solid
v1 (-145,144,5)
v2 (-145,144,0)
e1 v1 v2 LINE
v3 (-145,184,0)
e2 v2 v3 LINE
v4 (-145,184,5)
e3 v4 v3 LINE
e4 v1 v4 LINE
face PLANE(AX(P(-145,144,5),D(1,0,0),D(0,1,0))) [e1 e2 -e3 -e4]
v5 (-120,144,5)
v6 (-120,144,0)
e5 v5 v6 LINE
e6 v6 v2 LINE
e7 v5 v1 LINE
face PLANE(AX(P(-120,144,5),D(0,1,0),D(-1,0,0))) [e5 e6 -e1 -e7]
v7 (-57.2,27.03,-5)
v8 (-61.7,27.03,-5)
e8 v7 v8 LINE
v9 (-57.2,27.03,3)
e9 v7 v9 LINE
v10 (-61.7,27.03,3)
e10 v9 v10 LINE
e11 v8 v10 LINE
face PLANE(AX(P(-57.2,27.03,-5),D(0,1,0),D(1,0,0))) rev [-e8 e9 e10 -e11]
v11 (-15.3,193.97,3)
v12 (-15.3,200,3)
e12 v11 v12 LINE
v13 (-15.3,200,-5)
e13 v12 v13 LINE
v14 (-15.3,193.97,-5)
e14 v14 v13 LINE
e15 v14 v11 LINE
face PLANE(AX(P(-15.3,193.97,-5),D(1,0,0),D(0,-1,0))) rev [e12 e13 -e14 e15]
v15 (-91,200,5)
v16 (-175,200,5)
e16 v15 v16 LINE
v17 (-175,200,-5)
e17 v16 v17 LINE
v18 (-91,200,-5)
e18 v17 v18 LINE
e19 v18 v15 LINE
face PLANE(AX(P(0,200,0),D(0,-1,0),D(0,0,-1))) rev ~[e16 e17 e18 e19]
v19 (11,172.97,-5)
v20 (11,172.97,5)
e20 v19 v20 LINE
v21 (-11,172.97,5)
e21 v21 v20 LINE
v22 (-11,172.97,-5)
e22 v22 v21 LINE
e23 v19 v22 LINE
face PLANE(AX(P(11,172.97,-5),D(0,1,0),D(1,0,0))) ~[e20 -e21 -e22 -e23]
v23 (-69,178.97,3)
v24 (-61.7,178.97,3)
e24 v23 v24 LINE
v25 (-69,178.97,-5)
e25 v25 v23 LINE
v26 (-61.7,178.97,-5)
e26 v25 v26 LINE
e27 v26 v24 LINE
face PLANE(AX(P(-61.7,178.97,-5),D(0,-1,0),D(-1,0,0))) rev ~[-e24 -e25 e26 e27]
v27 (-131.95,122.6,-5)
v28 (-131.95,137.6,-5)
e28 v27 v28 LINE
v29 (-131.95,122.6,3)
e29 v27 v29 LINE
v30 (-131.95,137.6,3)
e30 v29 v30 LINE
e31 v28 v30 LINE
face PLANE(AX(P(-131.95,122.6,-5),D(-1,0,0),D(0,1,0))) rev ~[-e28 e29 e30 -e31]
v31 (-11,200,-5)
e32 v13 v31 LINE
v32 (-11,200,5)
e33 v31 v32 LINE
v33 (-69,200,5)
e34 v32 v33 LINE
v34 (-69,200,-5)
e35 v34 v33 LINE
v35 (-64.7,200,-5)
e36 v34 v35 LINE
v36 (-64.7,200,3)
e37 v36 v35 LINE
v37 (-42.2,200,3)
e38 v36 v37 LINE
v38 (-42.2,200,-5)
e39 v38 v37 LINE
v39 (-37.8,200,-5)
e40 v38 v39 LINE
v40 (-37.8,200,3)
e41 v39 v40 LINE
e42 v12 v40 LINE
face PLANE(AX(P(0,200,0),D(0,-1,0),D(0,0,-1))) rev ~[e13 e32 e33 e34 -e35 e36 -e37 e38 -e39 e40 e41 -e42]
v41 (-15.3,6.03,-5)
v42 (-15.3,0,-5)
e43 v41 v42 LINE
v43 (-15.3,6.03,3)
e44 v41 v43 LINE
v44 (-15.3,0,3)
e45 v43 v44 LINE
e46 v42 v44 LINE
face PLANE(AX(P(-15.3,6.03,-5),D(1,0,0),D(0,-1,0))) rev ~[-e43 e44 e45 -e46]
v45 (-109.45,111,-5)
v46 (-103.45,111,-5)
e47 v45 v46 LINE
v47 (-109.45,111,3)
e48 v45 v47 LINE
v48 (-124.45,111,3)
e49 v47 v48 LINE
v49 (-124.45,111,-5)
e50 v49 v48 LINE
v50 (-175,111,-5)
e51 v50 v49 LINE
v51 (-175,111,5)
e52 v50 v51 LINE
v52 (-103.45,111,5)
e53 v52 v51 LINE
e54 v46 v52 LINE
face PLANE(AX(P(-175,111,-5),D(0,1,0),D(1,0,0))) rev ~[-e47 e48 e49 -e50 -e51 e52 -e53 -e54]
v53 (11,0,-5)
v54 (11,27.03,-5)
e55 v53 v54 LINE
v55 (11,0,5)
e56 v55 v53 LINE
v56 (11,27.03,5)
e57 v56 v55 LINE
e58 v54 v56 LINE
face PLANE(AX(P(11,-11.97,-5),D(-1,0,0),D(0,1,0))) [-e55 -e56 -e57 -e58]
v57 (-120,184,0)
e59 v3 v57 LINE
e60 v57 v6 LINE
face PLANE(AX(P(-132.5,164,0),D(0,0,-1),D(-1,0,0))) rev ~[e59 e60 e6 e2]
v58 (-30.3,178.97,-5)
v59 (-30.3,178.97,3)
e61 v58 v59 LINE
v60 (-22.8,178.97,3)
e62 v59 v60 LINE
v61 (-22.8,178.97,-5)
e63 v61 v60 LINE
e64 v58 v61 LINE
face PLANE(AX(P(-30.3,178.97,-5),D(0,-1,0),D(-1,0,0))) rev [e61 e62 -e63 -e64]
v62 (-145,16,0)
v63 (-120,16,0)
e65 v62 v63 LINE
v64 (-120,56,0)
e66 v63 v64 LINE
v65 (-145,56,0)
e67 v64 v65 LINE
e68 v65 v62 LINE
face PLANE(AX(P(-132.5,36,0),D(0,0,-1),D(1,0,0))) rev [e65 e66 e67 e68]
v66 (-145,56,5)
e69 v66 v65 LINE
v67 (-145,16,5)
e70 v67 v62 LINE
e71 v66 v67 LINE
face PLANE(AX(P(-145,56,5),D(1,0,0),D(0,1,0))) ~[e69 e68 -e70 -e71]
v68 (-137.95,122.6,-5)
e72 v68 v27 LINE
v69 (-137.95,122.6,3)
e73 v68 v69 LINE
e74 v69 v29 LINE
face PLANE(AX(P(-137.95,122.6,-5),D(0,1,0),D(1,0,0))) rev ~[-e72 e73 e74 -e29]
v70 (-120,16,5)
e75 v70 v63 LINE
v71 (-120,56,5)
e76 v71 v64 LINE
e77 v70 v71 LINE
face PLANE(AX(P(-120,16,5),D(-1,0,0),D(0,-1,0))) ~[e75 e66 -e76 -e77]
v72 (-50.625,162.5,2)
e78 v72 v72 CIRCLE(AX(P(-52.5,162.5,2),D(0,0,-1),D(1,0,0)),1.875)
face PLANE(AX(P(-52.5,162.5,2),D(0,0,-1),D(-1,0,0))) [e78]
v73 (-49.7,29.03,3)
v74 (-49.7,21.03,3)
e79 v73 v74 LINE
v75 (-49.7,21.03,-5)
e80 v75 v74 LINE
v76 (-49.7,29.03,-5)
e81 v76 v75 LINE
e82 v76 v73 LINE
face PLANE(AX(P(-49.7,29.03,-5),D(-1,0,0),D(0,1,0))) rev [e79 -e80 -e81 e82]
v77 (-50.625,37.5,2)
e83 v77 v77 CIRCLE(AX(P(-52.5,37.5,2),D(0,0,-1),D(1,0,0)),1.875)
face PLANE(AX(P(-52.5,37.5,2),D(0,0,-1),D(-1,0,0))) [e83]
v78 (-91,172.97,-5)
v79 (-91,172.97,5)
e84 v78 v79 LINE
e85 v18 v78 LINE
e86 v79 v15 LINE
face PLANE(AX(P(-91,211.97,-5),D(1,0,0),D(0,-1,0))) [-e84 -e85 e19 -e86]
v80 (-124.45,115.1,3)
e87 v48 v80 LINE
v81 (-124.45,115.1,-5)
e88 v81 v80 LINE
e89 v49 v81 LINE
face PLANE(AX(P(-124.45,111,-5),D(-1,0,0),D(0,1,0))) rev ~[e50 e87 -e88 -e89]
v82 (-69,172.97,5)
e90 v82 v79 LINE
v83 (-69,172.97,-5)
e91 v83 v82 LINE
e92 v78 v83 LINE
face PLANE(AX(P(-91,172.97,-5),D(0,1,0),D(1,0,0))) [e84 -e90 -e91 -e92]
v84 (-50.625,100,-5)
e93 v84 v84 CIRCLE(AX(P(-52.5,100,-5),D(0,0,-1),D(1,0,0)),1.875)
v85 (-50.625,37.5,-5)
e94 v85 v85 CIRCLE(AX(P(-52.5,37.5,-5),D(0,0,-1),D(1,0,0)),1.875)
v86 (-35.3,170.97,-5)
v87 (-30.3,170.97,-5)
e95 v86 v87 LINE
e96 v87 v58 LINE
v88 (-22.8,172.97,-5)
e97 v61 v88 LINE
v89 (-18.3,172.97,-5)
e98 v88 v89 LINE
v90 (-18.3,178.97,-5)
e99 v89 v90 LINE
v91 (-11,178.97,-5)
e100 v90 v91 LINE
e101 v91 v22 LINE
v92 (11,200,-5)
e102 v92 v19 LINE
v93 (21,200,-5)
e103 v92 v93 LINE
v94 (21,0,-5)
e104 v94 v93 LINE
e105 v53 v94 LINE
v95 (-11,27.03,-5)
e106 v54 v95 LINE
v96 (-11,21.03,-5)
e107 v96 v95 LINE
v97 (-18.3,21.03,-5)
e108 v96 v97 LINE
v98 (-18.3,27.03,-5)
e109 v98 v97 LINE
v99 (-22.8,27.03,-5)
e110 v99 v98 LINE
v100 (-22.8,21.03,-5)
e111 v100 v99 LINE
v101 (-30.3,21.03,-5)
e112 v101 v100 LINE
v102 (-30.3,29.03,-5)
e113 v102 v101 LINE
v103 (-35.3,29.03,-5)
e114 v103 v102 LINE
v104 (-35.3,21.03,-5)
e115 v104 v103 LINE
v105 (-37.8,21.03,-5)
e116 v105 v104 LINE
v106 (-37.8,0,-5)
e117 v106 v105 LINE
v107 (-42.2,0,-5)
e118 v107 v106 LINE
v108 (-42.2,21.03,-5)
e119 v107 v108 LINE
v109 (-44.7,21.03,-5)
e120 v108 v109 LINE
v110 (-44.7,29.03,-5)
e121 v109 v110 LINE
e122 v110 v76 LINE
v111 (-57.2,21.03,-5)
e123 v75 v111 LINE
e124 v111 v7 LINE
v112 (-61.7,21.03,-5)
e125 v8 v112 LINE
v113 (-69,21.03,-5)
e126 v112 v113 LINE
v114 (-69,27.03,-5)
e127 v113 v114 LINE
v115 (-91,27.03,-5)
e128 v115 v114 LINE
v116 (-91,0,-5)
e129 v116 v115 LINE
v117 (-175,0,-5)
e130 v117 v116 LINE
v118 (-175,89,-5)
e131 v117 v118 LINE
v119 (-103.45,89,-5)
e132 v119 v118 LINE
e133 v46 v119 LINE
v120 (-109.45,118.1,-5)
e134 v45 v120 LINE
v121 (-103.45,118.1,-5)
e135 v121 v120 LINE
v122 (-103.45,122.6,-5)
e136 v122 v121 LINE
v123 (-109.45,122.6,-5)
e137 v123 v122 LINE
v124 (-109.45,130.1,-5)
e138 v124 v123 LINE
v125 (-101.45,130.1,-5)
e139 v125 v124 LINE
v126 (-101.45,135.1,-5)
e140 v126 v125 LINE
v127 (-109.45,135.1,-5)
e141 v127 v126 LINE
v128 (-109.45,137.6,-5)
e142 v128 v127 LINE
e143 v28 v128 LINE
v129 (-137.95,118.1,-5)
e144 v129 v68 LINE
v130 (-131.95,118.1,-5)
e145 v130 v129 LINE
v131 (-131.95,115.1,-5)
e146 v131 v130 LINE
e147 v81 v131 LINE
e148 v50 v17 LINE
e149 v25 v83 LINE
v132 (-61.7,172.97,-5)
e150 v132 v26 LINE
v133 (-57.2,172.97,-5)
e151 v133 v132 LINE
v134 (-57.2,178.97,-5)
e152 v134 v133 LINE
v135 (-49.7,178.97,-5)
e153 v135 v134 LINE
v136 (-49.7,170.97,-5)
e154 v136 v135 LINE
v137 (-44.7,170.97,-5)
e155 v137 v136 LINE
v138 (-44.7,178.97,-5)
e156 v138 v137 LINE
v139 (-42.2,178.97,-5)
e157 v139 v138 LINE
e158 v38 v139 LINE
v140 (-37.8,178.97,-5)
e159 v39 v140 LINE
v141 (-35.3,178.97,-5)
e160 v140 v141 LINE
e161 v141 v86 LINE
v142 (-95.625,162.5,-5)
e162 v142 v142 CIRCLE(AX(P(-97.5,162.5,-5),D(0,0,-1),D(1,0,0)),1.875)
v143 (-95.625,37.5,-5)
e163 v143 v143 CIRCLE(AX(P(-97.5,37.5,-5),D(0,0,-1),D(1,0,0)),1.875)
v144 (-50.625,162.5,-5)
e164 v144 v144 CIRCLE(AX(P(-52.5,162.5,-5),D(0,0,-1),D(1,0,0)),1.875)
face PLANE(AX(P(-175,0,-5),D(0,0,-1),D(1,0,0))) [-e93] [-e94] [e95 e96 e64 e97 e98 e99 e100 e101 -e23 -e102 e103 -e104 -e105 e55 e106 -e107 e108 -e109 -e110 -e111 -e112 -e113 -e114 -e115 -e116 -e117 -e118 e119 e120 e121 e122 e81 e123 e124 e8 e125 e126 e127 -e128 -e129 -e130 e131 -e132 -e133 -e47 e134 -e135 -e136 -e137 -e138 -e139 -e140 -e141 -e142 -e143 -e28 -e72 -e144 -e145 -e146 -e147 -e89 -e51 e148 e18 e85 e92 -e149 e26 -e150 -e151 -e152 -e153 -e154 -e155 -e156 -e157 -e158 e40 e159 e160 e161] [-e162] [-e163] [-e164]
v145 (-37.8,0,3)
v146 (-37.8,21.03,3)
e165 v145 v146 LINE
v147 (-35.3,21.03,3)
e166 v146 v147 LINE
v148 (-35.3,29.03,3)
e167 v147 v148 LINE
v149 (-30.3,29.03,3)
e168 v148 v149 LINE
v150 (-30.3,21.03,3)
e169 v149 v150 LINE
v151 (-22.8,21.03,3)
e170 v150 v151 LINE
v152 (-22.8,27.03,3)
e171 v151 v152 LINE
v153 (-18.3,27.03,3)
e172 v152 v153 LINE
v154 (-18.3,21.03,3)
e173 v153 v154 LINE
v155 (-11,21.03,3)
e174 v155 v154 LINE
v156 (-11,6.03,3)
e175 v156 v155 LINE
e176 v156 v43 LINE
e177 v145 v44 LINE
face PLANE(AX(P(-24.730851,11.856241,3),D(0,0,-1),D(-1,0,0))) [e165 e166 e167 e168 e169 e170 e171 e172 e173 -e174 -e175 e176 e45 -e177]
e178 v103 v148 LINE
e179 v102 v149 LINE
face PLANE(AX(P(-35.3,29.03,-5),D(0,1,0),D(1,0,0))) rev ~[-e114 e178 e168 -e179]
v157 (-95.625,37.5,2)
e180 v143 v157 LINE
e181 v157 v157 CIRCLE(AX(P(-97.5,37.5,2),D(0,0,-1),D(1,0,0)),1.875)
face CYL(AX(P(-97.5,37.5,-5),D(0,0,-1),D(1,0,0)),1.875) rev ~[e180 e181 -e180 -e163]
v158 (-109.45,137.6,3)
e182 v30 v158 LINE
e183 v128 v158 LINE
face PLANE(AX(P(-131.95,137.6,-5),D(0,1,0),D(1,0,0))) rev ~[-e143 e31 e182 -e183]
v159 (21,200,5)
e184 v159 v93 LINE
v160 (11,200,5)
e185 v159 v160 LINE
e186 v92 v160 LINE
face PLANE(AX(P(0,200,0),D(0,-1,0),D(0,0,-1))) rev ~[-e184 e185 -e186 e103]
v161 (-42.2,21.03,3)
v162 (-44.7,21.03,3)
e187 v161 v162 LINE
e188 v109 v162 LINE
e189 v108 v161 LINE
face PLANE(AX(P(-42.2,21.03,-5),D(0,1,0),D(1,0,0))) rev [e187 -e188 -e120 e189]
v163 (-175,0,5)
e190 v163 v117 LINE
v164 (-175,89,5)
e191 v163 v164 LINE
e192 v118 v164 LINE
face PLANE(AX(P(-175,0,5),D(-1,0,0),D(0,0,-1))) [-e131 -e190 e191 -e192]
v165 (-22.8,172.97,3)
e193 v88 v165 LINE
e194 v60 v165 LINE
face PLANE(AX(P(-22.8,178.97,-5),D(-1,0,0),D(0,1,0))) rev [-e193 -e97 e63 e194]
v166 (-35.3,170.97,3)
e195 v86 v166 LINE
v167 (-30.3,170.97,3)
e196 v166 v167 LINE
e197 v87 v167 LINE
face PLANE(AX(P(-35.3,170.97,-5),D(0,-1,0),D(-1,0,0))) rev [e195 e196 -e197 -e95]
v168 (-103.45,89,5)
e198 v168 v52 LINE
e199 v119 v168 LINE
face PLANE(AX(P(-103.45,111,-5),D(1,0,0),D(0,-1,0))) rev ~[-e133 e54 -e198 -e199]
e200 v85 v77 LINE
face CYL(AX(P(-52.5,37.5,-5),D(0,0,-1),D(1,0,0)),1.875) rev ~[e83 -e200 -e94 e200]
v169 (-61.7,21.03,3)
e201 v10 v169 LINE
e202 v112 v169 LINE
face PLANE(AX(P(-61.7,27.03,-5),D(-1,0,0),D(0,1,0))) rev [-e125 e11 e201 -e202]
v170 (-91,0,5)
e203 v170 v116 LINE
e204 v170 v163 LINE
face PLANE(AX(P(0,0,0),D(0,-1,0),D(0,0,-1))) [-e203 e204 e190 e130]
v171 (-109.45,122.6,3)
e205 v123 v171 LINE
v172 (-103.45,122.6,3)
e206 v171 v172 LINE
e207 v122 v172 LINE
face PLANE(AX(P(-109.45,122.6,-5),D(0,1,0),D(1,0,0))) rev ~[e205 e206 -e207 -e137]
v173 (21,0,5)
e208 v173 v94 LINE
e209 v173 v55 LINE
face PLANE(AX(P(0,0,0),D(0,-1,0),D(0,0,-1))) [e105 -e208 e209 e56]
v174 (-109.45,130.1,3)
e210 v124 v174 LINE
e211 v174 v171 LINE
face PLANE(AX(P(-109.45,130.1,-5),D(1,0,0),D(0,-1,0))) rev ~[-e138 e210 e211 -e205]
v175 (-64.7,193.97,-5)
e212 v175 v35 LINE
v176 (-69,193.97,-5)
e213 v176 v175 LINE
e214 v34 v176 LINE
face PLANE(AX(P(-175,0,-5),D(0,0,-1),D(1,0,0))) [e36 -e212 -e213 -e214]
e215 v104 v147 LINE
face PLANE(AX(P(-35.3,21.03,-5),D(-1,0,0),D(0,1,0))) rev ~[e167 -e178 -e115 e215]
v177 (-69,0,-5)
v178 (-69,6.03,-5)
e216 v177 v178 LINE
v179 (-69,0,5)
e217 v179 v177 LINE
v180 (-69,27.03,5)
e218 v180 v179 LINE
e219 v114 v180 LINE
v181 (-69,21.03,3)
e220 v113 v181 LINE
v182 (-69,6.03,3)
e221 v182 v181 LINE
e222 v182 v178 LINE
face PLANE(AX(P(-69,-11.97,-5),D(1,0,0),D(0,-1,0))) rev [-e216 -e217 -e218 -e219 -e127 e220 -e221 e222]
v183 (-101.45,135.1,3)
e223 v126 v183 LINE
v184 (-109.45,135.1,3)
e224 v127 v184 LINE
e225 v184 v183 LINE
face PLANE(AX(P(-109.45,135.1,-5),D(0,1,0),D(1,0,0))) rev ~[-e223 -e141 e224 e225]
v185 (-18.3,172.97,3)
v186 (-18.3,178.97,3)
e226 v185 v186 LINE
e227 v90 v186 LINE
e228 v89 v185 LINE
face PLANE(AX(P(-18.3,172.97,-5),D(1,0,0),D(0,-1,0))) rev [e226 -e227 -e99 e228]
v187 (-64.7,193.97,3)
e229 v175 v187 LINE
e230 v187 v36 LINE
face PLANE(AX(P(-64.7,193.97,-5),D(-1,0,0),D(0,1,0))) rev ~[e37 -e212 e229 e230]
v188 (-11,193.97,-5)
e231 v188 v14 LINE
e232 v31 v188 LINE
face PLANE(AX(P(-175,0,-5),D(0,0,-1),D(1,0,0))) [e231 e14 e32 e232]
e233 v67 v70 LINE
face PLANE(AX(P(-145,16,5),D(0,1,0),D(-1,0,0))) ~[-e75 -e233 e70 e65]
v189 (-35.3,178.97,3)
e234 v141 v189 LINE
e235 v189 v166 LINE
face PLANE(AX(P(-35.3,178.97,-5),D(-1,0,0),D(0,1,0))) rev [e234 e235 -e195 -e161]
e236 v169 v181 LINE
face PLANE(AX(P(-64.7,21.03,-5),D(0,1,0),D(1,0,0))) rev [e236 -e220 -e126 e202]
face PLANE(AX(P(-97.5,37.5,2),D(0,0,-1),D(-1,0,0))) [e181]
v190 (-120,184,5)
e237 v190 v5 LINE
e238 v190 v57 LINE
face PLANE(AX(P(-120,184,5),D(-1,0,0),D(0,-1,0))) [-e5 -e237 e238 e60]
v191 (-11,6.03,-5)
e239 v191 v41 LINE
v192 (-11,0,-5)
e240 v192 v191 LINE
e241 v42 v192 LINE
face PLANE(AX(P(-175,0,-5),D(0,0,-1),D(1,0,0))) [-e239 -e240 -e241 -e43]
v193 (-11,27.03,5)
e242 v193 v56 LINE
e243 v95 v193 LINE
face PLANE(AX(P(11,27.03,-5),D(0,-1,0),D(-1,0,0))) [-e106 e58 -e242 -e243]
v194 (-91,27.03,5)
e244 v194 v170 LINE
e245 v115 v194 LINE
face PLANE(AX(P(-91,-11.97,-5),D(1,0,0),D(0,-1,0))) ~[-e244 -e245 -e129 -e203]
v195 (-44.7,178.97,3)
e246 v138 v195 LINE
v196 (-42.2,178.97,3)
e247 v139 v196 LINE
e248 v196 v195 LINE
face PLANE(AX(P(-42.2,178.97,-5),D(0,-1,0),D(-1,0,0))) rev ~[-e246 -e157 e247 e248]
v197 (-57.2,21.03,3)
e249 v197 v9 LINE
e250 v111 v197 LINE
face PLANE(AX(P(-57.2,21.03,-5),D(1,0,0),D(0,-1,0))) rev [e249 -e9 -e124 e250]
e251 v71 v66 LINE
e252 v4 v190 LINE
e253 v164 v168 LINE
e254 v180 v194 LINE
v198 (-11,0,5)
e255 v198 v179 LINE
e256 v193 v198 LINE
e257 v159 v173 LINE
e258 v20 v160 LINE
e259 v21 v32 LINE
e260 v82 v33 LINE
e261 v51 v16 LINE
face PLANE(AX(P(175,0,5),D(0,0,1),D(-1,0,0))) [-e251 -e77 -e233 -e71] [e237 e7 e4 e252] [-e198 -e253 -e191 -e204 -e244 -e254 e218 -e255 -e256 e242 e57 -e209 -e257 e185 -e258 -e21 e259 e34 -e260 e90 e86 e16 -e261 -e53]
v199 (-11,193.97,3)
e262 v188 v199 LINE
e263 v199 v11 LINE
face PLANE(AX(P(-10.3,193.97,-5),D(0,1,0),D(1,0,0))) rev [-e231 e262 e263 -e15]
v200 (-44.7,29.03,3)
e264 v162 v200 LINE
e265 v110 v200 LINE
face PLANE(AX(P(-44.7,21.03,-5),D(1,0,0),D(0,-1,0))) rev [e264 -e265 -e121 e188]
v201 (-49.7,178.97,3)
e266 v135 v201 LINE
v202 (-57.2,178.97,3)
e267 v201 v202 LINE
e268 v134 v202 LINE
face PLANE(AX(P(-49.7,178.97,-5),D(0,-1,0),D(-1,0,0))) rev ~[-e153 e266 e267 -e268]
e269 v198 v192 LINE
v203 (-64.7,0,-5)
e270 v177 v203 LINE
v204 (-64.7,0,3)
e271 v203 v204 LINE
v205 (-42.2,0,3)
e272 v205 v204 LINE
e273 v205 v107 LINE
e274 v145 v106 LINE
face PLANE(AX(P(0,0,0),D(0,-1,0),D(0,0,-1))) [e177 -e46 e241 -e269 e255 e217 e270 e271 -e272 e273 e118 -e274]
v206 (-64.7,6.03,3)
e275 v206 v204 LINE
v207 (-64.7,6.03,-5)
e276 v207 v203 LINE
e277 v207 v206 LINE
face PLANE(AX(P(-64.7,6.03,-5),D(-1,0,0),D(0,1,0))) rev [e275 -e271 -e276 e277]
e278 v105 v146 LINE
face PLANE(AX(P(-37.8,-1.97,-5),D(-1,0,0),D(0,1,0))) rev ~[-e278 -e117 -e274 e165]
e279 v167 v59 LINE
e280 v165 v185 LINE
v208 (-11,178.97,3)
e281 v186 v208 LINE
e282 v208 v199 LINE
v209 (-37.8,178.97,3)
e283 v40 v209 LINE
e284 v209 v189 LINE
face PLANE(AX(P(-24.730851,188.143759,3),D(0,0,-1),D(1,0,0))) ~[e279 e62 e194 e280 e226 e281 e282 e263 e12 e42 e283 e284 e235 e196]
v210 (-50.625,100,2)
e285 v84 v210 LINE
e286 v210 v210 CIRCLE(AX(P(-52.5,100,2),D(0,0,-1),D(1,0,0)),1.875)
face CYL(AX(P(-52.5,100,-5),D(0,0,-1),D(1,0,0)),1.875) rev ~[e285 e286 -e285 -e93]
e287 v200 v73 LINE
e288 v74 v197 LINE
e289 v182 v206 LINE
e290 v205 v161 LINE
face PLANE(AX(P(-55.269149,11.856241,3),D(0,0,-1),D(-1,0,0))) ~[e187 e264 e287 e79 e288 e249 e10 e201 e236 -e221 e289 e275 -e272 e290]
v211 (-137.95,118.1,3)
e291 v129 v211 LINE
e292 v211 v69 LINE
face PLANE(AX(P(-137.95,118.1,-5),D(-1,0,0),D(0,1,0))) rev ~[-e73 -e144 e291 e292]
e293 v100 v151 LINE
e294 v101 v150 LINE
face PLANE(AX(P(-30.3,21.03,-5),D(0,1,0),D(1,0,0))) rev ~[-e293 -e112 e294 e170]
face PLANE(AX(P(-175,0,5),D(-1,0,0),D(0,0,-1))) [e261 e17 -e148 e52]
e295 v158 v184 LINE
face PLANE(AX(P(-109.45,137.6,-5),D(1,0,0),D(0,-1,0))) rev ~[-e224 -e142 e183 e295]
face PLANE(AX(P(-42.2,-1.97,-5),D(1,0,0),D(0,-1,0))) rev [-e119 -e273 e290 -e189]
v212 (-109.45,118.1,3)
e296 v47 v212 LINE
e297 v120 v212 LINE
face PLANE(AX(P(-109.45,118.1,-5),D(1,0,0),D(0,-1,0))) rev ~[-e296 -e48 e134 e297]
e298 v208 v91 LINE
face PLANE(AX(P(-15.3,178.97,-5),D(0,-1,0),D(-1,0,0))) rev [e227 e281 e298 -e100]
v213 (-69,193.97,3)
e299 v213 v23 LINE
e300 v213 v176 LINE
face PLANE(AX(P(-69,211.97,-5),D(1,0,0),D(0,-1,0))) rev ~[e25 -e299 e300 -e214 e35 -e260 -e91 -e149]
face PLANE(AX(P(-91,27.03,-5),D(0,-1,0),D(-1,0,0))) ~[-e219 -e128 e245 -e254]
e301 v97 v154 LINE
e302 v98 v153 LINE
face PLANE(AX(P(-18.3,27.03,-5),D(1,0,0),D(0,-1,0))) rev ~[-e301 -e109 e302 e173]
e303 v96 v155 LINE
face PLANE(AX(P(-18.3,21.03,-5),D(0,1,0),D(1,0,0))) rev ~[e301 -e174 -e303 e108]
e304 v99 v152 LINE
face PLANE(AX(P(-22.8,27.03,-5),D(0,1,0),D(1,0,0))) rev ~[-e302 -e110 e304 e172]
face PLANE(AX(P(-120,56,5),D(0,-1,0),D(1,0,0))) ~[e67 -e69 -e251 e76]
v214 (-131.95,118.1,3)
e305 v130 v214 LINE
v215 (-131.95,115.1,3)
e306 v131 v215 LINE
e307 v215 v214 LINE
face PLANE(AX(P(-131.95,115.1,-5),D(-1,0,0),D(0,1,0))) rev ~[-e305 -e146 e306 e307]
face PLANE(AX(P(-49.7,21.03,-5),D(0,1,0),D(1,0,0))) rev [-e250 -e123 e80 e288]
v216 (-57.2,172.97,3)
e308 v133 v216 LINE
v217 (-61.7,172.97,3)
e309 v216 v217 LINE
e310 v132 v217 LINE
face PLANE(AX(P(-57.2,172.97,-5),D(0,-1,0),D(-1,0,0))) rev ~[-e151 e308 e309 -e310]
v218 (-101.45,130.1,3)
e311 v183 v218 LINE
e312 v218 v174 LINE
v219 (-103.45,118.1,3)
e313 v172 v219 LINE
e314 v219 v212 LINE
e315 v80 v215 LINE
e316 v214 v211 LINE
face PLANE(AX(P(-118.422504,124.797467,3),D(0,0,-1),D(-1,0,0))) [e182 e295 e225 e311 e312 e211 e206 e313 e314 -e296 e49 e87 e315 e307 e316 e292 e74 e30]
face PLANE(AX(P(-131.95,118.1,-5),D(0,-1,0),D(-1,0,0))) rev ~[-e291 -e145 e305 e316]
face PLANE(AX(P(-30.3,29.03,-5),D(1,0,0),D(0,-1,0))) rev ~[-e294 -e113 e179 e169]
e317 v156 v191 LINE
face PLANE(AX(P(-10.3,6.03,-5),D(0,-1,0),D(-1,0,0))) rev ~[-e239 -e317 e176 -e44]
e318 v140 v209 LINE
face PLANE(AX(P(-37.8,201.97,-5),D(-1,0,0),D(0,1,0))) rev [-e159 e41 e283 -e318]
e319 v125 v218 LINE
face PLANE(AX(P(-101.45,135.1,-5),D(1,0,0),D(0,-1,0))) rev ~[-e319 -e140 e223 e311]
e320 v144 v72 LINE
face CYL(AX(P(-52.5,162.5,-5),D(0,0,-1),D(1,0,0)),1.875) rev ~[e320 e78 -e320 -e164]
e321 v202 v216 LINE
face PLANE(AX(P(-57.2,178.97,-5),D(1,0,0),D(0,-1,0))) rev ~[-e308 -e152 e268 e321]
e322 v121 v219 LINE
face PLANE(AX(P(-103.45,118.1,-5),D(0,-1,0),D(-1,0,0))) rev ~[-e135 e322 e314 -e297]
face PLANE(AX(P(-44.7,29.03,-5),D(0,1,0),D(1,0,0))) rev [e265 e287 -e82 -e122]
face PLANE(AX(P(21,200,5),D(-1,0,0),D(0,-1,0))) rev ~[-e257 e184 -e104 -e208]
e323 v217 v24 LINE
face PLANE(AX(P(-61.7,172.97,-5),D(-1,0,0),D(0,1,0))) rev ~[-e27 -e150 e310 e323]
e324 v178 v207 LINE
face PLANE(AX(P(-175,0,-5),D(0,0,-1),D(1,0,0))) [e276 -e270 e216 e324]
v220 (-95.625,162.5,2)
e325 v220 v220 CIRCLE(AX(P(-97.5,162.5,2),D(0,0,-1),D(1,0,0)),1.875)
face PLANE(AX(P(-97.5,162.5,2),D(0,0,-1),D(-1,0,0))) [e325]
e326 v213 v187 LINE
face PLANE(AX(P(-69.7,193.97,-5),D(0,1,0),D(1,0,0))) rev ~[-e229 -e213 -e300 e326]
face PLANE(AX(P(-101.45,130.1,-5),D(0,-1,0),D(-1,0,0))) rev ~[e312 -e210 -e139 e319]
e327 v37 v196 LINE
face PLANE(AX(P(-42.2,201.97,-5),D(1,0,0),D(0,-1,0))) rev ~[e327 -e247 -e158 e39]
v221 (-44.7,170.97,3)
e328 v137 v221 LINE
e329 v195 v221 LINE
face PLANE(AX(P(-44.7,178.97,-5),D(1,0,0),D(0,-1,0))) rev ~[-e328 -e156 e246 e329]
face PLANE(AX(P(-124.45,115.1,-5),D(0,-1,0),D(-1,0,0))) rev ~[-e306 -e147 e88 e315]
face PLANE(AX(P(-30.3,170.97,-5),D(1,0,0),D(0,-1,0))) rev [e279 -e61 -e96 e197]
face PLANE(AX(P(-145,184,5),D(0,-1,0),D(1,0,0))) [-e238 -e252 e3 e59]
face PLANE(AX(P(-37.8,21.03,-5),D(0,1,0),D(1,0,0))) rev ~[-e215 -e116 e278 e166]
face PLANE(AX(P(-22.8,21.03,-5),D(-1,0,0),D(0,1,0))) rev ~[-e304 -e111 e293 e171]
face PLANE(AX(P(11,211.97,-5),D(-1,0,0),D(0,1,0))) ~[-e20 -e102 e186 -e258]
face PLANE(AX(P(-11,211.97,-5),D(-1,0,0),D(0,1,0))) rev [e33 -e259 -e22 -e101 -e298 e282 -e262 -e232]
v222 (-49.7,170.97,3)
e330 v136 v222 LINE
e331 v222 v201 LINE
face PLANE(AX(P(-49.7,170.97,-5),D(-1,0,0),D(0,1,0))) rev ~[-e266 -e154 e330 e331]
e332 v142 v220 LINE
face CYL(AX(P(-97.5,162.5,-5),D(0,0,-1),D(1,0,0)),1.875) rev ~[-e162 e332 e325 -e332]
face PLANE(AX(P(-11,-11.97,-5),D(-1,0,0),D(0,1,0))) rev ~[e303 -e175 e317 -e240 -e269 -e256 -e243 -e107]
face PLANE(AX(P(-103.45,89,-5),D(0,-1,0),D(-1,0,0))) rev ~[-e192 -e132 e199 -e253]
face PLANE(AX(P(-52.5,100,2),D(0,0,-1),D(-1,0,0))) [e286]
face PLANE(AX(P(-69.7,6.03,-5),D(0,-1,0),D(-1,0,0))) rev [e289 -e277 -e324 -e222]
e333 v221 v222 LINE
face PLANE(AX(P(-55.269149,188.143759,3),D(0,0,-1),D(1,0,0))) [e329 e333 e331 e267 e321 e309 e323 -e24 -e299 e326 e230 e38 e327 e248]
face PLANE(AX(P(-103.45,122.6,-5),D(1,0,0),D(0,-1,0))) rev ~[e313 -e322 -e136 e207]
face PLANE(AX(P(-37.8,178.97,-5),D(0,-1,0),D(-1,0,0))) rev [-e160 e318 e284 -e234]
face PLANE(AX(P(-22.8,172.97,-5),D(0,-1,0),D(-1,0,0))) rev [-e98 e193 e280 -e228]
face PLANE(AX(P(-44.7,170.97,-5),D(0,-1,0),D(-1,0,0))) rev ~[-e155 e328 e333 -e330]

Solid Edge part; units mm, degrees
sketch "Sketch1" plane through (0, 0, 0) normal (0, -1, 0) x (1, 0, 0)
  line L0 (-175, -5) -> (175, -5)
  line L1 (175, -5) -> (175, 5)
  line L2 (175, 5) -> (-175, 5)
  line L3 (-175, 5) -> (-175, -5)
  dimension "D1" = 350
  dimension "D2" = 10
extrude "Protrusion1" add sketch "Sketch1" against normal blind 200
sketch "Sketch2" plane through (0, 100, -5) normal (0, 0, -1) x (1, 0, 0)
  line L0 (-22.8, 78.97) -> (-22.8, 72.97)
  line L1 (-22.8, 72.97) -> (-18.3, 72.97)
  line L2 (-18.3, 72.97) -> (-18.3, 78.97)
  line L3 (-18.3, 78.97) -> (-15.3, 78.97)
  line L4 (-15.3, 78.97) -> (-10.3, 78.97)
  line L5 (-10.3, 78.97) -> (-10.3, 93.97)
  line L6 (-10.3, 93.97) -> (-15.3, 93.97)
  line L7 (-15.3, 93.97) -> (-15.3, 101.97)
  line L8 (-15.3, 101.97) -> (-18.3, 101.97)
  line L9 (-18.3, 101.97) -> (-18.3, 107.97)
  line L10 (-18.3, 107.97) -> (-22.8, 107.97)
  line L11 (-22.8, 107.97) -> (-22.8, 101.97)
  line L12 (-22.8, 101.97) -> (-37.8, 101.97)
  line L13 (-37.8, 101.97) -> (-37.8, 78.97)
  line L14 (-37.8, 78.97) -> (-35.3, 78.97)
  line L15 (-35.3, 78.97) -> (-35.3, 70.97)
  line L16 (-35.3, 70.97) -> (-30.3, 70.97)
  line L17 (-30.3, 70.97) -> (-30.3, 78.97)
  line L18 (-30.3, 78.97) -> (-22.8, 78.97)
  dimension "D1" = 23
  dimension "D2" = 6
  dimension "D3" = 3
  dimension "D4" = 5
  dimension "D5" = 22.5
  dimension "D6" = 15
  dimension "D7" = 1.97
  dimension "D8" = 10.3
  dimension "D9" = 15
  dimension "D10" = 8
  dimension "D11" = 5
  dimension "D12" = 2.5
extrude "Cutout1" cut sketch "Sketch2" against normal blind 8
sketch "Sketch3" plane through (0, 100, -5) normal (0, 0, -1) x (1, 0, 0)
  line L0 (11, 72.97) -> (-11, 72.97)
  line L1 (-11, 111.97) -> (-11, 72.97)
  line L2 (11, 111.97) -> (-11, 111.97)
  line L3 (11, 111.97) -> (11, 72.97)
  dimension "D1" = 22
  dimension "D2" = 0.7
  dimension "D3" = 39
  dimension "D4" = 6
extrude "Cutout2" cut sketch "Sketch3" against normal through all
mirror "Mirror1" about plane through (0, 100, 0) normal (0, -1, 0) of "Cutout1", "Cutout2"
mirror "Mirror2" about plane through (40, 0, 0) normal (1, 0, 0) of "Mirror1", "Cutout2", "Cutout1"
mirror "Mirror3" about plane through (-40, 0, 0) normal (1, 0, 0) of "Cutout2", "Cutout1", "Mirror1"
sketch "Sketch4" plane through (0, 100, -5) normal (0, 0, -1) x (0, -1, 0)
  line L0 (-22.6, 109.45) -> (-22.6, 103.45)
  line L1 (-22.6, 103.45) -> (-18.1, 103.45)
  line L2 (-18.1, 103.45) -> (-18.1, 109.45)
  line L3 (-18.1, 109.45) -> (-15.1, 109.45)
  line L4 (-15.1, 109.45) -> (-11, 109.45)
  line L5 (-11, 109.45) -> (-11, 124.45)
  line L6 (-11, 124.45) -> (-15.1, 124.45)
  line L7 (-15.1, 124.45) -> (-15.1, 131.95)
  line L8 (-15.1, 131.95) -> (-18.1, 131.95)
  line L9 (-18.1, 131.95) -> (-18.1, 137.95)
  line L10 (-18.1, 137.95) -> (-22.6, 137.95)
  line L11 (-22.6, 137.95) -> (-22.6, 131.95)
  line L12 (-22.6, 131.95) -> (-37.6, 131.95)
  line L13 (-37.6, 131.95) -> (-37.6, 109.45)
  line L14 (-37.6, 109.45) -> (-35.1, 109.45)
  line L15 (-35.1, 109.45) -> (-35.1, 101.45)
  line L16 (-35.1, 101.45) -> (-30.1, 101.45)
  line L17 (-30.1, 101.45) -> (-30.1, 109.45)
  line L18 (-30.1, 109.45) -> (-22.6, 109.45)
  dimension "D1" = 6
  dimension "D2" = 3
  dimension "D3" = 4.1
  dimension "D4" = 22.5
  dimension "D5" = 15
  dimension "D6" = 22.5
  dimension "D7" = 103.45
  dimension "D8" = 11
  dimension "D9" = 15
  dimension "D10" = 8
  dimension "D11" = 5
  dimension "D12" = 2.5
  dimension "D13" = 15
extrude "Cutout3" cut sketch "Sketch4" against normal up to vertex (8 mm away)
sketch "Sketch5" plane through (0, 100, -5) normal (0, 0, -1) x (0, -1, 0)
  line L0 (-11, 109.45) -> (-11, 103.45)
  line L1 (-11, 103.45) -> (11, 103.45)
  line L2 (11, 103.45) -> (11, 175)
  line L3 (11, 175) -> (-11, 175)
  line L4 (-11, 175) -> (-11, 109.45)
  dimension "D1" = 6
  dimension "D2" = 22
extrude "Cutout4" cut sketch "Sketch5" against normal through all
mirror "Mirror4" about plane through (0, 0, 0) normal (1, 0, 0) of "Cutout4", "Cutout3"
sketch "Sketch6" plane through (0, 100, -5) normal (0, 0, -1) x (1, 0, 0)
  circle A0 centre (-97.5, 62.5) radius 1.875
  circle A1 centre (-52.5, 62.5) radius 1.875
  circle A2 centre (-52.5, 0) radius 1.875
  circle A3 centre (-97.5, -62.5) radius 1.875
  circle A4 centre (-52.5, -62.5) radius 1.875
  dimension "D1" = 195
  dimension "D2" = 125
  dimension "D3" = 3.75
  dimension "D4" = 45
extrude "Cutout5" cut sketch "Sketch6" against normal blind 7
sketch "Sketch7" plane through (0, 100, 5) normal (0, 0, 1) x (1, 0, 0)
  line L0 (-120, 84) -> (-120, 44)
  line L1 (-120, 44) -> (-145, 44)
  line L2 (-145, 44) -> (-145, 84)
  line L3 (-145, 84) -> (-120, 84)
  dimension "D1" = 40
  dimension "D2" = 25
  dimension "D3" = 15
  dimension "D4" = 30
extrude "Cutout6" cut sketch "Sketch7" against normal blind 5
mirror "Mirror5" about plane through (0, 100, 0) normal (0, -1, 0) of "Cutout6"
mirror "Mirror6" about plane through (0, 0, 0) normal (1, 0, 0) of "Cutout6", "Mirror5"
sketch "Sketch8" plane through (0, 100, 5) normal (0, 0, 1) x (1, 0, 0)
  line L0 (21, 100) -> (21, -100)
  dimension "D1" = 10
extrude "Cutout7" cut sketch "Sketch8" against normal through all material side at (21.05, 100, 5)
properties material "Nylon, allgemein"
